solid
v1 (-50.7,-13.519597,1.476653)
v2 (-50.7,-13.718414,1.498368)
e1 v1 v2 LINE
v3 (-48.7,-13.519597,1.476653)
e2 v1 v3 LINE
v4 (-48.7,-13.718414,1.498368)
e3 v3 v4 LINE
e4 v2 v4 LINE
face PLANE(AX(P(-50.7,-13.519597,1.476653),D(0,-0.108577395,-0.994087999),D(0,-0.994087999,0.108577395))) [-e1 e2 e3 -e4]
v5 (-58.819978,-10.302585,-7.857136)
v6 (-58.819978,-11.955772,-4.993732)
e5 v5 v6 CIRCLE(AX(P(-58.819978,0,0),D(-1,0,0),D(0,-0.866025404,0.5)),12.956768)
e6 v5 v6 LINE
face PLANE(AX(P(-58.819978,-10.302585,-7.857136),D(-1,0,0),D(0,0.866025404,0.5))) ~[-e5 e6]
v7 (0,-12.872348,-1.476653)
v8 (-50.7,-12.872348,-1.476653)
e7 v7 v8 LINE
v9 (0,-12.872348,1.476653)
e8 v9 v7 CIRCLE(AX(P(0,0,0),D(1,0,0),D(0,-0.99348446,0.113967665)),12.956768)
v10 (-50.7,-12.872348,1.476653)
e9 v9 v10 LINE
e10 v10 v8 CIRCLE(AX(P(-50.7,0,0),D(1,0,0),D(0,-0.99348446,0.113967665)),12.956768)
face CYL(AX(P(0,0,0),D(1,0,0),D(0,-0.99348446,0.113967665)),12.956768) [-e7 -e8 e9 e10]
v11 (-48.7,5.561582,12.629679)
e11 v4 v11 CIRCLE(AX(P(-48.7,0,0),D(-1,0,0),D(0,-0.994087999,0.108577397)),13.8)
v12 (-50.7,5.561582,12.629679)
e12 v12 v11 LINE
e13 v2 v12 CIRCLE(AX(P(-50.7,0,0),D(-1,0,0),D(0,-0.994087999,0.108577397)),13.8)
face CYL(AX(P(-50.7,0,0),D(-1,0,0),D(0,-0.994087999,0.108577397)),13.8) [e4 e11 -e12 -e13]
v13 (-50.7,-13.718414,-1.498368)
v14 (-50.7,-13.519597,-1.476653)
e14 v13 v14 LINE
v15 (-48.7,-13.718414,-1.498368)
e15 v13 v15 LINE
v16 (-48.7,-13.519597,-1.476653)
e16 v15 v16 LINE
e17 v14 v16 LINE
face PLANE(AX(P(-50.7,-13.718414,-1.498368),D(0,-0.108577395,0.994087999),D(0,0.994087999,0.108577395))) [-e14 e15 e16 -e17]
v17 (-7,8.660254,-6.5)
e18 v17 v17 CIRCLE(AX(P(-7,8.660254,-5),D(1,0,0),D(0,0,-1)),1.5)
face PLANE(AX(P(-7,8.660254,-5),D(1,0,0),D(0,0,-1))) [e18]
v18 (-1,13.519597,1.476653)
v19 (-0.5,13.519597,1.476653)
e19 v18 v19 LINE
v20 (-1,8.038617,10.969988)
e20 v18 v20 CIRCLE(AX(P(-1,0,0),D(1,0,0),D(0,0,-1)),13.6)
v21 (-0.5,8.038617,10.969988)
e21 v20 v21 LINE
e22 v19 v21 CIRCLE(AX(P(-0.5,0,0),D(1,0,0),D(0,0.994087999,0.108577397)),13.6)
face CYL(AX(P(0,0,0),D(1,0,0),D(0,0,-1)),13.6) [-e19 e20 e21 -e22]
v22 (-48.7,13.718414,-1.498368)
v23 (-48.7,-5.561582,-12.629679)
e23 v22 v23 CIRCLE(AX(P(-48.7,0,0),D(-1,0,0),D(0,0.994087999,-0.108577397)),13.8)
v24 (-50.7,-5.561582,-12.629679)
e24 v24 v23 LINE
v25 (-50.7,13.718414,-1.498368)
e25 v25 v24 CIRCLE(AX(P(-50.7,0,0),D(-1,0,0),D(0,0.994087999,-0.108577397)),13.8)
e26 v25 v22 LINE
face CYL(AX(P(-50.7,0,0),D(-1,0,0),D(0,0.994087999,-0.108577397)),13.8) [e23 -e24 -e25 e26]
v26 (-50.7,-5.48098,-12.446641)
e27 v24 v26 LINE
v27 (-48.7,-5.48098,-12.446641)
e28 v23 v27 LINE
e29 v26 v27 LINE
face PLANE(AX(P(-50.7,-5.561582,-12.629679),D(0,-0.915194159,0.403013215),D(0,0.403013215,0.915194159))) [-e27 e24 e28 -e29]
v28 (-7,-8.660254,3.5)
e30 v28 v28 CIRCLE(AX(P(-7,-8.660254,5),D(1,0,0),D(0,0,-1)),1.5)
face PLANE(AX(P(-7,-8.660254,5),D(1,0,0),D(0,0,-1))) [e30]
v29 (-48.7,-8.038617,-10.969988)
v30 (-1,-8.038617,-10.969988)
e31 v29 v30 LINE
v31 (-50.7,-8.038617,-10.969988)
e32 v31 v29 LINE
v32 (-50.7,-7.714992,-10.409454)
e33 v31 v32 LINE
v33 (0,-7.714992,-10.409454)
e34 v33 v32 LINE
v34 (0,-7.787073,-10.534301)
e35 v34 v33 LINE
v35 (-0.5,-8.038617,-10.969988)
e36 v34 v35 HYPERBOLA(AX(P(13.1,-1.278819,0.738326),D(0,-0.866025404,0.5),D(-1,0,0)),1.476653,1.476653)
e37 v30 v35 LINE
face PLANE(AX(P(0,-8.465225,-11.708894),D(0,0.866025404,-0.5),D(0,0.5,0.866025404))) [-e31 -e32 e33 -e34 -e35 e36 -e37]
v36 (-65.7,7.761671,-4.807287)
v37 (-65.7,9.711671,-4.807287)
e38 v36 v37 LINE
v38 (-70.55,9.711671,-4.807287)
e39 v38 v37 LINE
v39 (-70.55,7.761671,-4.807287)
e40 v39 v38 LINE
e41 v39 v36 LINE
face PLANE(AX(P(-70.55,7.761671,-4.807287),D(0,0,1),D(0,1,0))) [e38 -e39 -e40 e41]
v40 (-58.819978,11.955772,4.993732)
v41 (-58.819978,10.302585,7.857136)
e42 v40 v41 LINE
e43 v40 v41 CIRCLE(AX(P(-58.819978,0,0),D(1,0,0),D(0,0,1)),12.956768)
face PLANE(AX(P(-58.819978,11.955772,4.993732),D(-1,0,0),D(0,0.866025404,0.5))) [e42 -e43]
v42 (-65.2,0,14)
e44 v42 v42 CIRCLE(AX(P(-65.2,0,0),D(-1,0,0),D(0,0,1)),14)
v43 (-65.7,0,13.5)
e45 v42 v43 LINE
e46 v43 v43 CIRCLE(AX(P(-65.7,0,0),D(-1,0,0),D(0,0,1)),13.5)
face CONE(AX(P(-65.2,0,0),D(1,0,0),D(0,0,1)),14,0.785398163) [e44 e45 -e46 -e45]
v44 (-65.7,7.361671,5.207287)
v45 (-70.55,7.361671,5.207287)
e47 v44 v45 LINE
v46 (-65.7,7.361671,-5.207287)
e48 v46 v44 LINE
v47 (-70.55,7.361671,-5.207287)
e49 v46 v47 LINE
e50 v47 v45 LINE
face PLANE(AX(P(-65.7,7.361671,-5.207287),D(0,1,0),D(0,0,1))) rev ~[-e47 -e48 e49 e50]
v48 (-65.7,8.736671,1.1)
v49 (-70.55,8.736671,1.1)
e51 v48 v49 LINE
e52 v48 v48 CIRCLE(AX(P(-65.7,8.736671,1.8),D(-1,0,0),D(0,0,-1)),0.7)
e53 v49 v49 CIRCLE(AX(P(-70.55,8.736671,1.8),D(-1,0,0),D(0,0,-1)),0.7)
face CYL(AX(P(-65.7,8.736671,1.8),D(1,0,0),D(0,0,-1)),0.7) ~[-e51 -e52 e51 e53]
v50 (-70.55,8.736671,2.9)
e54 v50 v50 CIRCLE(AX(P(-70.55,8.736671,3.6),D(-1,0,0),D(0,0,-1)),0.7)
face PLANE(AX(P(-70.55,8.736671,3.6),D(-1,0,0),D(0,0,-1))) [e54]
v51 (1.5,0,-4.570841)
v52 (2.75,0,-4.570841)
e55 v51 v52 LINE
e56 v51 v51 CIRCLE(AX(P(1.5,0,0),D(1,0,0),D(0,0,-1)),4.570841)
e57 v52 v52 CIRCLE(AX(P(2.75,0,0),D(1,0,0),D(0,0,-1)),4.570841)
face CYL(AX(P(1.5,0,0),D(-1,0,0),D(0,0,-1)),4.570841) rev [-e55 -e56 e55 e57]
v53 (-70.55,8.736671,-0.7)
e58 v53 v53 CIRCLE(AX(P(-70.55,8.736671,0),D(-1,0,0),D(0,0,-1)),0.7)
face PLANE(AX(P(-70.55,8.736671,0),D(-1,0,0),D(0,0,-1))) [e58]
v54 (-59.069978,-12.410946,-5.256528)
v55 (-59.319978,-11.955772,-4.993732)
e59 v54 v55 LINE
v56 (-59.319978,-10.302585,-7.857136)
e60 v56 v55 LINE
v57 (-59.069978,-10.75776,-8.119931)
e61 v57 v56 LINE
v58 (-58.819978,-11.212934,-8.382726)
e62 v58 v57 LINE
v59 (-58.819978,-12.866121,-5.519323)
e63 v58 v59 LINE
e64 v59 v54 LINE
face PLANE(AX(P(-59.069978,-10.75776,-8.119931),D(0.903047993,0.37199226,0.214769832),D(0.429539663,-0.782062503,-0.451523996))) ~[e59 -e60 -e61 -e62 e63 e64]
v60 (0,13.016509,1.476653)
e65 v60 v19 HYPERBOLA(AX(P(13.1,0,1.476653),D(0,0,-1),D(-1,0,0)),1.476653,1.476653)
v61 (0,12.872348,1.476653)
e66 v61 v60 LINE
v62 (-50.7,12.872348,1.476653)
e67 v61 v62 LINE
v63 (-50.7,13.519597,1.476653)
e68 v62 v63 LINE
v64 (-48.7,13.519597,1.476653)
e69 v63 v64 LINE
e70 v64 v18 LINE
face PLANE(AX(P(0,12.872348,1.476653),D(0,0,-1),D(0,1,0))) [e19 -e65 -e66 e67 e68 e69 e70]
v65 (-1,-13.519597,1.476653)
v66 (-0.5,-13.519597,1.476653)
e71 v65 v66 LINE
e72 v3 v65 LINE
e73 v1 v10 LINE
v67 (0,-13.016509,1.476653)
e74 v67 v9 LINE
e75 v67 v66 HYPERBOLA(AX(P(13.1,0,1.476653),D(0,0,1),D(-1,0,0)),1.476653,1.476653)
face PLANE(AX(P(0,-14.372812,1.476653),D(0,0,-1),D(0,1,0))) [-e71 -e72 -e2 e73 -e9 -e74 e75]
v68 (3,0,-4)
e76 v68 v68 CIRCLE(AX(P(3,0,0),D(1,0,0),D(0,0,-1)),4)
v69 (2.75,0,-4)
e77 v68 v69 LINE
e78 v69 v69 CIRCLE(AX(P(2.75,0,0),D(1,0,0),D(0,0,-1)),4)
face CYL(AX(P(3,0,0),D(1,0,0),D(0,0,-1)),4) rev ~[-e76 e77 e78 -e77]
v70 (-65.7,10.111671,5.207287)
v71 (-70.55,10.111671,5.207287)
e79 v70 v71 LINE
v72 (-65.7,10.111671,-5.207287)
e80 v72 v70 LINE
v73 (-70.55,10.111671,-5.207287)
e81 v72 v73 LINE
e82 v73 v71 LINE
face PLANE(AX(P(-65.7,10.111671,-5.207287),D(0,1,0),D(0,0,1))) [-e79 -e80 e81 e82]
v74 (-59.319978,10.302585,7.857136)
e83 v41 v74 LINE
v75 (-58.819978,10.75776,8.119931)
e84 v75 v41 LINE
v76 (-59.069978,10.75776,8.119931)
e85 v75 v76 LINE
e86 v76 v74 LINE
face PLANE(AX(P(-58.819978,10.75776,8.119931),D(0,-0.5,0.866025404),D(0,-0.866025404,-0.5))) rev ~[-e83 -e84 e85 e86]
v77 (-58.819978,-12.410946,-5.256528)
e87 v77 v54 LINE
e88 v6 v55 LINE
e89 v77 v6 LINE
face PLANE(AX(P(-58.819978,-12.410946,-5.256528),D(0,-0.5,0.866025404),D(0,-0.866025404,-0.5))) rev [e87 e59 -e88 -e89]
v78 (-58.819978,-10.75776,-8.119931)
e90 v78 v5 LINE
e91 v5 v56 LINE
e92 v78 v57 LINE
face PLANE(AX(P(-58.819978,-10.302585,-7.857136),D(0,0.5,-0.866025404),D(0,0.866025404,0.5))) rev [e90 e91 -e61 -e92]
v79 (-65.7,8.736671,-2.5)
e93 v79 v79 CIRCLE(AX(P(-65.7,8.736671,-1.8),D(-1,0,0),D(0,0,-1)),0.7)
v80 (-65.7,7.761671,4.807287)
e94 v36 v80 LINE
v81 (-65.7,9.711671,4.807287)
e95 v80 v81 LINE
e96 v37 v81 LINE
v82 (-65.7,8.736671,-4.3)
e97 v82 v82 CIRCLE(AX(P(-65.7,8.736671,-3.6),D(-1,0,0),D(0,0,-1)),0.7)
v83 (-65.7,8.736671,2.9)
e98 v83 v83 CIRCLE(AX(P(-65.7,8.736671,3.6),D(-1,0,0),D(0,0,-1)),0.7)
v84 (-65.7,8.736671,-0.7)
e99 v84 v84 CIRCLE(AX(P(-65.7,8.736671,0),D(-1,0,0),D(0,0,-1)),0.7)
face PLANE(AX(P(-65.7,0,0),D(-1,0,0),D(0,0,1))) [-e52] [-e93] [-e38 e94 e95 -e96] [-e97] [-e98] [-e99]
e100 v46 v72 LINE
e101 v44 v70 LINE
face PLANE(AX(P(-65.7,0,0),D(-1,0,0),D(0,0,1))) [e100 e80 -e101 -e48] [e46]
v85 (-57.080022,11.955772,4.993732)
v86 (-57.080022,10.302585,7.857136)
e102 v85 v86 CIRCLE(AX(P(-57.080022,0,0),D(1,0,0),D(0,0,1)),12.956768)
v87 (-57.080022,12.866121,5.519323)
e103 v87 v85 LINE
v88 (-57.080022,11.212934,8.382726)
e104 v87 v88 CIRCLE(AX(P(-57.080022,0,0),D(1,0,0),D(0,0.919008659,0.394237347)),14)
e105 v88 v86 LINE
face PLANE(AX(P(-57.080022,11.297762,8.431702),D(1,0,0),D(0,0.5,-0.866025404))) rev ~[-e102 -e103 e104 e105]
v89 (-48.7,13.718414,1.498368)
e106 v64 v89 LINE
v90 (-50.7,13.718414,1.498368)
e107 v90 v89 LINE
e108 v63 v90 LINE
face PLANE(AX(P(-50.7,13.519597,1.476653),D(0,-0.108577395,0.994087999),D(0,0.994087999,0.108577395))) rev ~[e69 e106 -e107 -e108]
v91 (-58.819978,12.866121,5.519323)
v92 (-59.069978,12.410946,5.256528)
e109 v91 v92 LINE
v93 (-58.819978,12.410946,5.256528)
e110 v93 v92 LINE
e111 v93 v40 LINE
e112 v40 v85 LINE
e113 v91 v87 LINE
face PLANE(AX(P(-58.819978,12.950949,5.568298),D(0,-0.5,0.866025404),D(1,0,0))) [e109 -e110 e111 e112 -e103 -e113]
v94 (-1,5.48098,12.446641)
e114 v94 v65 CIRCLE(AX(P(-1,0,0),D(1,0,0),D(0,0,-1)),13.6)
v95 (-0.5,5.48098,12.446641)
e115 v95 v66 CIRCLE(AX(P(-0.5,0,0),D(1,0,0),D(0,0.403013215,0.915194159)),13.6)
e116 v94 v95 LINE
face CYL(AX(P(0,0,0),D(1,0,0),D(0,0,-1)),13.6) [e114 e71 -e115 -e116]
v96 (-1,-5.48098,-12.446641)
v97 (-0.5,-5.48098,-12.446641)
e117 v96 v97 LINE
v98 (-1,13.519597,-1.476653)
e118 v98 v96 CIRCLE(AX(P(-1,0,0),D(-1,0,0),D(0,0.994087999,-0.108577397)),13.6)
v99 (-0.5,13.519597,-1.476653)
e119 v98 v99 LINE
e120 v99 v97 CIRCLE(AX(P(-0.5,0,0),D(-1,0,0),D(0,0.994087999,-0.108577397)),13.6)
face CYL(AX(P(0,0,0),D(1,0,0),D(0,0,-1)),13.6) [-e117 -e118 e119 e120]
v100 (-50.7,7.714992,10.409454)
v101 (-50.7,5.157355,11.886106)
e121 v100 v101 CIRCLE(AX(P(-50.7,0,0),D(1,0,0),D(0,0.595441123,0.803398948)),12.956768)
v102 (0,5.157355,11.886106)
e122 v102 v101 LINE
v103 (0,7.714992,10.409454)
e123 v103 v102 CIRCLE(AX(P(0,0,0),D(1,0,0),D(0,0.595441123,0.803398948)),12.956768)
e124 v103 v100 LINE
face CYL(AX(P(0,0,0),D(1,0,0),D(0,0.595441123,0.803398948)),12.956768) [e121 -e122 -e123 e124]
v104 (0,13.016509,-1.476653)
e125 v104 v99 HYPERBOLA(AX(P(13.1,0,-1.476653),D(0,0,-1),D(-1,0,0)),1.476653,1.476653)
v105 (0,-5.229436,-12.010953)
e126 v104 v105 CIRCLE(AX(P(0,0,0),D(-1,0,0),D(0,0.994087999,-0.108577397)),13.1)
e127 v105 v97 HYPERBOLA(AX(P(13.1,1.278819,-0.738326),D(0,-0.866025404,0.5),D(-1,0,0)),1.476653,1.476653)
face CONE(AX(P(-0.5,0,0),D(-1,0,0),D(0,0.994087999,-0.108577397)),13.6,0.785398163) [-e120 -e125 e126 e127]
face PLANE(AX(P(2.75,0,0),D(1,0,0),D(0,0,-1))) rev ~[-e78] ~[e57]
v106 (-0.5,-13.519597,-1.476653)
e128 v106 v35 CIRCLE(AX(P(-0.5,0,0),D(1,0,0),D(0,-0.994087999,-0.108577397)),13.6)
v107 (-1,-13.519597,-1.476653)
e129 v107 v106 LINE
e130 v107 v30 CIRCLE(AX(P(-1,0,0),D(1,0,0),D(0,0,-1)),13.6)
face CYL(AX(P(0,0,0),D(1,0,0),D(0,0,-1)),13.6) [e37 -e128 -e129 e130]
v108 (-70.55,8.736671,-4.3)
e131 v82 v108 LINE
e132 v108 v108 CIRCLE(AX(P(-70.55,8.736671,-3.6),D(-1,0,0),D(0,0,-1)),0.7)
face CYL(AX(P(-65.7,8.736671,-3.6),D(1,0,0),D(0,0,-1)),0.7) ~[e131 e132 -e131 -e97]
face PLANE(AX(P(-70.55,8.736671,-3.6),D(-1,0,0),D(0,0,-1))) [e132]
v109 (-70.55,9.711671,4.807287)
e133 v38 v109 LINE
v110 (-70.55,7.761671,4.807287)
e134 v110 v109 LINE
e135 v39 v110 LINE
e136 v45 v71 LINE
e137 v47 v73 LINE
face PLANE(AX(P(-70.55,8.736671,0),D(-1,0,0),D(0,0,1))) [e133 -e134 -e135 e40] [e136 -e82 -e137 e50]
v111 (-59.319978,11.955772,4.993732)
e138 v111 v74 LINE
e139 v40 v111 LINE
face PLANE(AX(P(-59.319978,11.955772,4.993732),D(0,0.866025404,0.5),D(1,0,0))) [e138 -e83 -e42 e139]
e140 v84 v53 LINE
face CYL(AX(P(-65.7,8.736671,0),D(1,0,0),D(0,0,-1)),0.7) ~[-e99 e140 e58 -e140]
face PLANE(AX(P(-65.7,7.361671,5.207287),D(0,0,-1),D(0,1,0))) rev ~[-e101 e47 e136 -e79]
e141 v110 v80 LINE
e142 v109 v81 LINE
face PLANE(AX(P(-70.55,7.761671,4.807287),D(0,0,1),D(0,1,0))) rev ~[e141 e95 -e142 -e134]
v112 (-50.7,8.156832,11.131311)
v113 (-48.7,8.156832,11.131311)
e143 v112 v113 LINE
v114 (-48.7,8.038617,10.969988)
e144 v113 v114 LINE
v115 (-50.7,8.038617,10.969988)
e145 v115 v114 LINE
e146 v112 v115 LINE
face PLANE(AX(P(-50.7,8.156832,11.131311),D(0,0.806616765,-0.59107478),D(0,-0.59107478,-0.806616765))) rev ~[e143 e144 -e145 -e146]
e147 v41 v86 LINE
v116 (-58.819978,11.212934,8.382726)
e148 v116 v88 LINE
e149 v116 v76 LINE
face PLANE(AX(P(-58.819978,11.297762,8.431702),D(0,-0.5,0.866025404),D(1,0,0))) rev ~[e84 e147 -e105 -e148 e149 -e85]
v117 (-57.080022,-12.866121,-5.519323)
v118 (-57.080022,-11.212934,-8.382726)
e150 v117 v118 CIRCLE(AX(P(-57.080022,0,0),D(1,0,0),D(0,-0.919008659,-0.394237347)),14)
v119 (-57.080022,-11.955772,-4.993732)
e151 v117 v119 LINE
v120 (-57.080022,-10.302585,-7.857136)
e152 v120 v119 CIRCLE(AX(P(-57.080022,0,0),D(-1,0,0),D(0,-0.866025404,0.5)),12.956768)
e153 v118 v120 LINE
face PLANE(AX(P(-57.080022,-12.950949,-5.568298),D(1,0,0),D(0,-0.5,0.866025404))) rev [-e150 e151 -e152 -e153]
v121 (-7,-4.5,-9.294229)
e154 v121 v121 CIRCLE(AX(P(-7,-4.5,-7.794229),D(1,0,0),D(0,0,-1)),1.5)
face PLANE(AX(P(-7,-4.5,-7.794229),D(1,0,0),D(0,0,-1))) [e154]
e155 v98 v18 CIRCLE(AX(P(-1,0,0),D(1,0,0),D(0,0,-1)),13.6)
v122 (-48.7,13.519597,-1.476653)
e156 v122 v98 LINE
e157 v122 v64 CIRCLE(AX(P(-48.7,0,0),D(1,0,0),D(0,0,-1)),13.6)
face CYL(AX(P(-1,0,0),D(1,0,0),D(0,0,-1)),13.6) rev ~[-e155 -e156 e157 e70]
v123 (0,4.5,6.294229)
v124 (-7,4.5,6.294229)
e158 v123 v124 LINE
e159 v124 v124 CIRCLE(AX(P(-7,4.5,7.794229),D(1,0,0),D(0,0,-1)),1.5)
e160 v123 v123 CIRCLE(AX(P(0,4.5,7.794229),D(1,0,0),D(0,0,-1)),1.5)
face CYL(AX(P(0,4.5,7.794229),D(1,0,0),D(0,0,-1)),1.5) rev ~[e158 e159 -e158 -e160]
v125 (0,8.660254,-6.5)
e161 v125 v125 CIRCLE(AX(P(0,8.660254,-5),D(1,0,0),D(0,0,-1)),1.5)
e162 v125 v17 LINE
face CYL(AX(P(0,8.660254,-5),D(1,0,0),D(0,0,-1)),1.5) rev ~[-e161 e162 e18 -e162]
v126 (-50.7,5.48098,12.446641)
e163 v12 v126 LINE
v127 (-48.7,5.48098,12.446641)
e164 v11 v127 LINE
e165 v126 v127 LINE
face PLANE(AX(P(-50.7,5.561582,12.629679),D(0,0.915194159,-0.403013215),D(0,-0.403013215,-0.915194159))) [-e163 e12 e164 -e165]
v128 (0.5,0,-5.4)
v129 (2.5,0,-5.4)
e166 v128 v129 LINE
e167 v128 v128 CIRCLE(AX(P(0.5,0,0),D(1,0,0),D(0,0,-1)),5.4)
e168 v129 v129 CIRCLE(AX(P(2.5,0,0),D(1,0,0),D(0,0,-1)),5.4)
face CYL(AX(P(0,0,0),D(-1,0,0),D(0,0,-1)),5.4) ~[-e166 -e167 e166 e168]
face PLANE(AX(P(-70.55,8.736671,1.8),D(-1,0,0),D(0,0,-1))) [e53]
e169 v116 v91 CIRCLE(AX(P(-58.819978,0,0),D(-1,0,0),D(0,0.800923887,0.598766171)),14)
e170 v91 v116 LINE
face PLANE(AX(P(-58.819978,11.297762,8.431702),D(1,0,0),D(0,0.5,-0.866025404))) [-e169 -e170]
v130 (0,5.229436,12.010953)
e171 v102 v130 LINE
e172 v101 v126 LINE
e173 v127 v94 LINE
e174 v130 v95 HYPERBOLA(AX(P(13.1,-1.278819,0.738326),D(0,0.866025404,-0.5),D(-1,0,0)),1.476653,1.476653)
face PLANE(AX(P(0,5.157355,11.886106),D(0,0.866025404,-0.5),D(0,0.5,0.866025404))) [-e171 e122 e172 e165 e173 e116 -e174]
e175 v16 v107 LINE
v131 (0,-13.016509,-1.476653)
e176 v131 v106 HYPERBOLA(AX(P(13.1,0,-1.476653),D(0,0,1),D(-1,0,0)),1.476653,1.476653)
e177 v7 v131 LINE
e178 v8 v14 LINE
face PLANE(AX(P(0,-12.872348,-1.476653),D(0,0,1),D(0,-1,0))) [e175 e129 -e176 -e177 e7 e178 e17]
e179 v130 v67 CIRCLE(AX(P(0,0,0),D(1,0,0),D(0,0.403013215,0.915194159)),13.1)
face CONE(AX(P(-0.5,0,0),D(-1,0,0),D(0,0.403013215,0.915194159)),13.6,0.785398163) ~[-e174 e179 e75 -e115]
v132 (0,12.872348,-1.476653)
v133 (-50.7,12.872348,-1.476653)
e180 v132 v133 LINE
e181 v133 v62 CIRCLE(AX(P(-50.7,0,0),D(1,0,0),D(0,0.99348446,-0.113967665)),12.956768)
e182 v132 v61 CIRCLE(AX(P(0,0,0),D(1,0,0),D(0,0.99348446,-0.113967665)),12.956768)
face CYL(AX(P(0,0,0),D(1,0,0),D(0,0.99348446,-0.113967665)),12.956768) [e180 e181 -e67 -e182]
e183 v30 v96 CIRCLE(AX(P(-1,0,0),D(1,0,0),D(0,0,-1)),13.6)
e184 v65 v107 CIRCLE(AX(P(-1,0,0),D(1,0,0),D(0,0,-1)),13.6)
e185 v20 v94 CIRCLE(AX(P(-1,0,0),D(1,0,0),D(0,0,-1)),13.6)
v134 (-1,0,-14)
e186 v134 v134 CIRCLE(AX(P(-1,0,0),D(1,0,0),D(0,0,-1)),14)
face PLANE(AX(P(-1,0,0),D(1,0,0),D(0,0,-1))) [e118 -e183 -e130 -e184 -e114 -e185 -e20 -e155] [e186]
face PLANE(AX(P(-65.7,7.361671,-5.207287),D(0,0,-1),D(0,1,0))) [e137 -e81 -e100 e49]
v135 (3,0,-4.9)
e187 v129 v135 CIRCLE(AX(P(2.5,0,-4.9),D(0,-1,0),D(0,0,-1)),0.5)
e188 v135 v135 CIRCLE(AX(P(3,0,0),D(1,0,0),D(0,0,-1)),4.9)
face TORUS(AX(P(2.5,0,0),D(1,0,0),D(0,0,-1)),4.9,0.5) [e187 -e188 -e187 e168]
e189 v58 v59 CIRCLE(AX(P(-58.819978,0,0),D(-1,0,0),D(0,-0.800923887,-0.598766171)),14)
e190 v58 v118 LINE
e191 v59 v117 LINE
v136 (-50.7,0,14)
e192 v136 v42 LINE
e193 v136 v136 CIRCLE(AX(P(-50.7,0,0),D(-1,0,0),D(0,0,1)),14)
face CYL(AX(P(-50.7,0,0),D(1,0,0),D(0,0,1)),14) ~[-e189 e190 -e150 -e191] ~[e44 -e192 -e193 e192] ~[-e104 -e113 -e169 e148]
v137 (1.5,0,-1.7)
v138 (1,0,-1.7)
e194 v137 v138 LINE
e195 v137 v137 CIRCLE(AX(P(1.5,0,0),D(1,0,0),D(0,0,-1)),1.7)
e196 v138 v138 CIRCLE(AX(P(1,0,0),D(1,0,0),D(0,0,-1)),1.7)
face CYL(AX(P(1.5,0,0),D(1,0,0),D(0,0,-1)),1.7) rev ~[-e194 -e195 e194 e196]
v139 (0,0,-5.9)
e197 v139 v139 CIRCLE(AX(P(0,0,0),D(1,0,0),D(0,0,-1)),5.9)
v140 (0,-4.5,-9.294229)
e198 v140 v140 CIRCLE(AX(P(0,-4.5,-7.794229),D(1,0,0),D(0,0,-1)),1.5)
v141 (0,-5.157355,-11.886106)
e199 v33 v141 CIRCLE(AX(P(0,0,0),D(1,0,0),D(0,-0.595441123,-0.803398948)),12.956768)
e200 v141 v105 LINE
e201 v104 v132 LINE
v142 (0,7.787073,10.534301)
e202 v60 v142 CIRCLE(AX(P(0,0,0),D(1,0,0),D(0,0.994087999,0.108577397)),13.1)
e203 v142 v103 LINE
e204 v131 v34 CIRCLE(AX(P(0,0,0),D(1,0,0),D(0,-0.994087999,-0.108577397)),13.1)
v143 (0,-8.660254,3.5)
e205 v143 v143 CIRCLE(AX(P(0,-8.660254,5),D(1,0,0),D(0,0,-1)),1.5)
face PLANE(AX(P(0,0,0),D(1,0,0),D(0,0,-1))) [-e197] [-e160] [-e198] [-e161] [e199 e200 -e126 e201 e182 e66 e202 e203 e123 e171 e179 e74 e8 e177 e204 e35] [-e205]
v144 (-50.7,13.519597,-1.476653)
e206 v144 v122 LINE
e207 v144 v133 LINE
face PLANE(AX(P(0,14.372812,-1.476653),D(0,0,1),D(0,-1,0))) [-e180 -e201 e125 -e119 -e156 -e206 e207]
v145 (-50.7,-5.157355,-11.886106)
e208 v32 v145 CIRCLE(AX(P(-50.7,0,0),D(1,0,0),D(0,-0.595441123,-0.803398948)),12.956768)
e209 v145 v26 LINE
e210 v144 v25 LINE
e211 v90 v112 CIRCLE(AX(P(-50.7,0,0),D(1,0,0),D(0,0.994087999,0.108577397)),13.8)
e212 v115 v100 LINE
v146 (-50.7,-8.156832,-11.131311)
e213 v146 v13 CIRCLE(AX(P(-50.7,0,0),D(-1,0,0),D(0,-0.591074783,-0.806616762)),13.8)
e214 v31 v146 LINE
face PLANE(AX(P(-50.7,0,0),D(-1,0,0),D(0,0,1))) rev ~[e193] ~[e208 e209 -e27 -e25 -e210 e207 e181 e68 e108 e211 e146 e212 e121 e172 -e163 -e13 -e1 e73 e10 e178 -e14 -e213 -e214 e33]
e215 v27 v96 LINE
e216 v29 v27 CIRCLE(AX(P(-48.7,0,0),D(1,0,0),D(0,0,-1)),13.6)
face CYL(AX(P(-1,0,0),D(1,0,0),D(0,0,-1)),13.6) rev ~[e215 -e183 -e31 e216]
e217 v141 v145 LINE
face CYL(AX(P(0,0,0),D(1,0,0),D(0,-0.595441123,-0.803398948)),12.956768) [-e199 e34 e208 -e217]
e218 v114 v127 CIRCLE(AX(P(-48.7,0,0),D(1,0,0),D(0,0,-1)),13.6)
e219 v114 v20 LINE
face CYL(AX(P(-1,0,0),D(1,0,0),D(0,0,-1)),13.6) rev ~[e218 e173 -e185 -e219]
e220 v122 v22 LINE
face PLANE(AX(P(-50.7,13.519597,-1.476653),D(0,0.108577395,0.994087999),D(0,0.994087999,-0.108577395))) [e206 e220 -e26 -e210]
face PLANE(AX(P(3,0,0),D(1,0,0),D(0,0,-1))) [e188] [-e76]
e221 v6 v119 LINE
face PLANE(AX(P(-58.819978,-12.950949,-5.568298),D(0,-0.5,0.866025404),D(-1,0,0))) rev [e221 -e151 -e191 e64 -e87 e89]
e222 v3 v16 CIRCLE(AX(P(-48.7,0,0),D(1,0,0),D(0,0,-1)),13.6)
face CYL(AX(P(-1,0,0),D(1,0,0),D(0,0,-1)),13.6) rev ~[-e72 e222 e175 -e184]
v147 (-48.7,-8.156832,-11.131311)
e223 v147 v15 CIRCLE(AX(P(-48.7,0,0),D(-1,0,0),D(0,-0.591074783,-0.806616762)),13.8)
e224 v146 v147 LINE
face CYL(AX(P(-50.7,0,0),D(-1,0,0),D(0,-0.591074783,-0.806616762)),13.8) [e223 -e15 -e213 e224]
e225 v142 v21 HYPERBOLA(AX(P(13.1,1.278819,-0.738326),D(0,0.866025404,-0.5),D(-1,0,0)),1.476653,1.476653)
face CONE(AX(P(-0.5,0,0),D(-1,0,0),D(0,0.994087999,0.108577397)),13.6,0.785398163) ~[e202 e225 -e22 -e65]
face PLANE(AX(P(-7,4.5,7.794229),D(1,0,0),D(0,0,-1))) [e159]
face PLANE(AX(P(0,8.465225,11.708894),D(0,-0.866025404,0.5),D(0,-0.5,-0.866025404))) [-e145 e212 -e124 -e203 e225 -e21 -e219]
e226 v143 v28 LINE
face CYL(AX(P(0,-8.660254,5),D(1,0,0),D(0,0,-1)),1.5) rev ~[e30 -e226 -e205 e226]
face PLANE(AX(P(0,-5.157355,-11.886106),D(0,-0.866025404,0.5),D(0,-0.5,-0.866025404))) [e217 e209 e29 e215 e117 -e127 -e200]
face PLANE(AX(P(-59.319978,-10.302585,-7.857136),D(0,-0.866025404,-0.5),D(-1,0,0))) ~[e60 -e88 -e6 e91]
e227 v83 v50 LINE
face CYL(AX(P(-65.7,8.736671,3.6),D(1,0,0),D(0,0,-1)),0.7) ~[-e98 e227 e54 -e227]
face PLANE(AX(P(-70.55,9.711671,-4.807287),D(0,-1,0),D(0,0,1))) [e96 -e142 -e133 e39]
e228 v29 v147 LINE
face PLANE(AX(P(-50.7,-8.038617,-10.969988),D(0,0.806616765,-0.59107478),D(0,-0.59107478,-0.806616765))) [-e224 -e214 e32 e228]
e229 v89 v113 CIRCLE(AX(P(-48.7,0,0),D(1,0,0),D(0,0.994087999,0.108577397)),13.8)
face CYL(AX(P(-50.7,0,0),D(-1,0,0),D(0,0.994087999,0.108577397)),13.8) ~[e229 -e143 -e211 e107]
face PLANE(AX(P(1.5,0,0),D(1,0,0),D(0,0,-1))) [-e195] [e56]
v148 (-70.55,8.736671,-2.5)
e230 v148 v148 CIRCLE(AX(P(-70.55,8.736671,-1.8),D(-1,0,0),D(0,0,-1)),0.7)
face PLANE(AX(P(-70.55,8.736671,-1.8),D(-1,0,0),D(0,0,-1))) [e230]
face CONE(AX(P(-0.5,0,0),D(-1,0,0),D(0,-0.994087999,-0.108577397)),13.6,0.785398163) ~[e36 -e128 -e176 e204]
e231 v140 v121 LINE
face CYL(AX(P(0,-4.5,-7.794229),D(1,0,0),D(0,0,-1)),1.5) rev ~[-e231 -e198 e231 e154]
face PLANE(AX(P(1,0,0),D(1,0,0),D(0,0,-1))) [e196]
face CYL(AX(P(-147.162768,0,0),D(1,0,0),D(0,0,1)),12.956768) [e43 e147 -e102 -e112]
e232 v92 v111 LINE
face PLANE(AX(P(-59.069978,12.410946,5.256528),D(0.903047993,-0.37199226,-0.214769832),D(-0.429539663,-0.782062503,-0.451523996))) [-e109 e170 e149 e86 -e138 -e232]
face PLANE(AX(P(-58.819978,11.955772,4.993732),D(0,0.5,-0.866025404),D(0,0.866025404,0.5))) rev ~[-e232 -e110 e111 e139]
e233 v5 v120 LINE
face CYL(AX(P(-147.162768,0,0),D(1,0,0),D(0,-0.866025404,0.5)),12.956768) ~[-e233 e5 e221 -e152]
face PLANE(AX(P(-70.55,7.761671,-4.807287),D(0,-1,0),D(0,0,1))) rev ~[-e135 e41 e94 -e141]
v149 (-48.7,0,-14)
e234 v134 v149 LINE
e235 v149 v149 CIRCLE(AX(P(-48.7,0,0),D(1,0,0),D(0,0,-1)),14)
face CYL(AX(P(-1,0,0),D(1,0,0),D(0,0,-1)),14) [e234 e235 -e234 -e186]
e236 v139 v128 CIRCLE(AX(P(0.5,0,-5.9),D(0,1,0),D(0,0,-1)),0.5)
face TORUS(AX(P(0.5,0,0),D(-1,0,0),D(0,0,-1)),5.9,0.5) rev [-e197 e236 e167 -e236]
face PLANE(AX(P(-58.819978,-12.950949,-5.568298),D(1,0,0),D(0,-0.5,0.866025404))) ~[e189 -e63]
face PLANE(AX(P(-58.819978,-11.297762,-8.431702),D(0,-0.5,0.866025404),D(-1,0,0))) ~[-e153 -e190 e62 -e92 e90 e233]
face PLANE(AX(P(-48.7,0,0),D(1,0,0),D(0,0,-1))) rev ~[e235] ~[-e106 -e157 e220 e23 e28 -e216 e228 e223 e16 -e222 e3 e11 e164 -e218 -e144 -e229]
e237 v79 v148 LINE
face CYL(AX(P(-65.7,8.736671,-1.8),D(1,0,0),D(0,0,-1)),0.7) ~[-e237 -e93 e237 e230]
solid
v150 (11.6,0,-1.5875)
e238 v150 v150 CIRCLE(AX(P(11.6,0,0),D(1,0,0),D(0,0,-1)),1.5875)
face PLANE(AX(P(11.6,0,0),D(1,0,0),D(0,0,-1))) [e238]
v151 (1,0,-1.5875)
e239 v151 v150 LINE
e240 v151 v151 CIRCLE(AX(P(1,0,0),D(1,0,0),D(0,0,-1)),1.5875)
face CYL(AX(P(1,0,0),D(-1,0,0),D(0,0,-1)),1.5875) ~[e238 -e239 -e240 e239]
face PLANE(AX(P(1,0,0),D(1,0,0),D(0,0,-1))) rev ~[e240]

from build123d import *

# Parameters (mm, degrees)
SKETCH1_R               = 13.6
BOSS_EXTRUDE1_DEPTH     = 50.7
CUT_EXTRUDE1_DEPTH      = 55.225547485
SKETCH3_R               = 14
SKETCH3_R_2             = 13.6
BOSS_EXTRUDE2_DEPTH     = 47.7
SKETCH4_R               = 14
BOSS_EXTRUDE3_DEPTH     = 15
BOSS_EXTRUDE4_DEPTH     = 2
SKETCH6_R               = 1.5
CUT_EXTRUDE2_DEPTH      = 7
SKETCH7_R               = 5.4
BOSS_EXTRUDE5_DEPTH     = 3
SKETCH8_R               = 4
CUT_EXTRUDE3_DEPTH      = 1.5
SKETCH9_R               = 1.7
CUT_EXTRUDE4_DEPTH      = 0.5
SKETCH11_R              = 1.5875
BOSS_EXTRUDE6_DEPTH     = 10.6
SKETCH12_R              = 4.570841128
SKETCH12_R_2            = 4
CUT_EXTRUDE5_DEPTH      = 1.25
FILLET1_R               = 0.5
CHAMFER1_SIZE           = 0.5
CUT_EXTRUDE6_REACH      = 75.756
CUT_EXTRUDE6_END_RADIUS = 12.956768024
SKETCH13_W              = 1.739955734
SKETCH13_H              = 3.306373614
CUT_EXTRUDE7_DEPTH      = 0.5
CUT_EXTRUDE8_DEPTH      = 3.306373613
BOSS_EXTRUDE7_DEPTH     = 3.306373613
SKETCH17_W              = 10.414574722
SKETCH17_H              = 2.75
BOSS_EXTRUDE8_DEPTH     = 4.85
SKETCH18_W              = 9.614574722
SKETCH18_H              = 1.95
CUT_EXTRUDE10_DEPTH     = 4.85
SKETCH20_R              = 0.7
BOSS_EXTRUDE9_DEPTH     = 4.85


with BuildPart() as part:
    # Sketch1 → Boss-Extrude1 (new body)
    with BuildSketch(Plane(origin=(0, 0, 0), x_dir=(0, 0, -1), z_dir=(1, 0, 0))):
        Circle(SKETCH1_R)
    extrude(amount=-BOSS_EXTRUDE1_DEPTH)

    # Sketch2 → Cut-Extrude1 (cut, through all)
    with BuildSketch(Plane(origin=(0, 0, 0), x_dir=(0, 0, -1), z_dir=(1, 0, 0))):
        with BuildLine():
            Line((-1.476652596, 12.872347678), (-1.476652596, 14.372812182))
            Line((-1.476652596, 14.372812182), (1.476652596, 14.372812182))
            Line((1.476652596, 14.372812182), (1.476652596, 12.872347678))
            ThreePointArc((1.476652596, 12.872347678), (0, 12.956768024), (-1.476652596, 12.872347678))
        make_face()
        with BuildLine():
            Line((1.476652596, -12.872347678), (1.476652596, -14.372812182))
            Line((1.476652596, -14.372812182), (-1.476652596, -14.372812182))
            Line((-1.476652596, -14.372812182), (-1.476652596, -12.872347678))
            ThreePointArc((-1.476652596, -12.872347678), (0, -12.956768024), (1.476652596, -12.872347678))
        make_face()
        with BuildLine():
            Line((11.886106393, -5.157355179), (13.185546772, -5.907587431))
            Line((13.185546772, -5.907587431), (11.708894176, -8.465224751))
            Line((11.708894176, -8.465224751), (10.409453797, -7.714992499))
            ThreePointArc((10.409453797, -7.714992499), (11.220890259, -6.478384012), (11.886106393, -5.157355179))
        make_face()
        with BuildLine():
            Line((-11.886106393, 5.157355179), (-13.185546772, 5.907587431))
            Line((-13.185546772, 5.907587431), (-11.708894176, 8.465224751))
            Line((-11.708894176, 8.465224751), (-10.409453797, 7.714992499))
            ThreePointArc((-10.409453797, 7.714992499), (-11.220890259, 6.478384012), (-11.886106393, 5.157355179))
        make_face()
    extrude(amount=-CUT_EXTRUDE1_DEPTH, mode=Mode.SUBTRACT)



with BuildPart() as body_2:
    # Sketch3 → Boss-Extrude2 (new body)
    with BuildSketch(Plane(origin=(-1, 0, 0), x_dir=(0, 0, -1), z_dir=(1, 0, 0))):
        Circle(SKETCH3_R)
        Circle(SKETCH3_R_2, mode=Mode.SUBTRACT)
    extrude(amount=-BOSS_EXTRUDE2_DEPTH)


with BuildPart() as body_3:
    # Sketch4 → Boss-Extrude3 (new body)
    with BuildSketch(Plane.ZY.offset(50.7)):
        Circle(SKETCH4_R)
    extrude(amount=BOSS_EXTRUDE3_DEPTH)


with BuildPart() as part_1:
    add(part.part)

    add(body_2.part)  # Boss-Extrude4 merges body 2

    add(body_3.part)  # Boss-Extrude4 merges body 3
    # Sketch5 → Boss-Extrude4 (add)
    with BuildSketch(Plane(origin=(-50.7, 0, 0), x_dir=(0, 0, -1), z_dir=(1, 0, 0))):
        with BuildLine():
            Line((1.476652596, 13.519596781), (1.498368075, 13.71841438))
            ThreePointArc((1.498368075, 13.71841438), (11.951150572, 6.9), (12.629679391, -5.561582373))
            Line((12.629679391, -5.561582373), (12.446640559, -5.48097973))
            ThreePointArc((12.446640559, -5.48097973), (11.777945491, 6.8), (1.476652596, 13.519596781))
        make_face()
        with BuildLine():
            Line((-1.476652596, 13.519596781), (-1.498368075, 13.71841438))
            ThreePointArc((-1.498368075, 13.71841438), (-6.9, 11.951150572), (-11.131311316, 8.156832007))
            Line((-11.131311316, 8.156832007), (-10.969987963, 8.038617051))
            ThreePointArc((-10.969987963, 8.038617051), (-6.8, 11.777945491), (-1.476652596, 13.519596781))
        make_face()
        with BuildLine():
            Line((10.969987963, -8.038617051), (11.131311316, -8.156832007))
            ThreePointArc((11.131311316, -8.156832007), (6.9, -11.951150572), (1.498368075, -13.71841438))
            Line((1.498368075, -13.71841438), (1.476652596, -13.519596781))
            ThreePointArc((1.476652596, -13.519596781), (6.8, -11.777945491), (10.969987963, -8.038617051))
        make_face()
        with BuildLine():
            Line((-1.476652596, -13.519596781), (-1.498368075, -13.71841438))
            ThreePointArc((-1.498368075, -13.71841438), (-11.951150572, -6.9), (-12.629679391, 5.561582373))
            Line((-12.629679391, 5.561582373), (-12.446640559, 5.48097973))
            ThreePointArc((-12.446640559, 5.48097973), (-11.777945491, -6.8), (-1.476652596, -13.519596781))
        make_face()
    extrude(amount=BOSS_EXTRUDE4_DEPTH)

    # Sketch6 → Cut-Extrude2 (cut)
    with BuildSketch(Plane(origin=(0, 0, 0), x_dir=(0, 0, -1), z_dir=(1, 0, 0))):
        with Locations((-5, -8.660254038)):
            Circle(SKETCH6_R)
        with Locations((5, 8.660254038)):
            Circle(SKETCH6_R)
        with Locations((-7.794228634, 4.5)):
            Circle(SKETCH6_R)
        with Locations((7.794228634, -4.5)):
            Circle(SKETCH6_R)
    extrude(amount=-CUT_EXTRUDE2_DEPTH, mode=Mode.SUBTRACT)

    # Sketch7 → Boss-Extrude5 (add)
    with BuildSketch(Plane(origin=(0, 0, 0), x_dir=(0, 0, -1), z_dir=(1, 0, 0))):
        Circle(SKETCH7_R)
    extrude(amount=BOSS_EXTRUDE5_DEPTH)

    # Sketch8 → Cut-Extrude3 (cut)
    with BuildSketch(Plane(origin=(3, 0, 0), x_dir=(0, 0, -1), z_dir=(1, 0, 0))):
        Circle(SKETCH8_R)
    extrude(amount=-CUT_EXTRUDE3_DEPTH, mode=Mode.SUBTRACT)

    # Sketch9 → Cut-Extrude4 (cut)
    with BuildSketch(Plane(origin=(1.5, 0, 0), x_dir=(0, 0, -1), z_dir=(1, 0, 0))):
        Circle(SKETCH9_R)
    extrude(amount=-CUT_EXTRUDE4_DEPTH, mode=Mode.SUBTRACT)

    # Sketch12 → Cut-Extrude5 (cut)
    with BuildSketch(Plane(origin=(1.5, 0, 0), x_dir=(0, 0, -1), z_dir=(1, 0, 0))):
        Circle(SKETCH12_R)
        Circle(SKETCH12_R_2, mode=Mode.SUBTRACT)
    extrude(amount=CUT_EXTRUDE5_DEPTH, mode=Mode.SUBTRACT)

    # Fillet1
    fillet1_edges = [part_1.edges().sort_by_distance(p)[0] for p in [
        (0, 0, 5.4),
        (3, 0, 5.4),
    ]]
    fillet(fillet1_edges, radius=FILLET1_R)

    # Chamfer1
    chamfer1_edges = [part_1.edges().sort_by_distance(p)[0] for p in [
        (-65.7, 0, -14),
        (0, 11.777945491, 6.8),
        (0, -6.8, 11.777945491),
        (0, -11.777945491, -6.8),
        (0, 6.8, -11.777945491),
    ]]
    chamfer(chamfer1_edges, length=CHAMFER1_SIZE)

    # Cut-Extrude6: up to this cylinder (the profile starts outside it)
    cut_extrude6_end = Plane(origin=(-57.95, 0, 0), z_dir=(1, 0, 0)) * Cylinder(CUT_EXTRUDE6_END_RADIUS, 178.425536047, mode=Mode.PRIVATE)
    # Sketch13 → Cut-Extrude6 (cut, up to the surface)
    with BuildSketch(Plane(origin=(0, 12.124355653, 7), x_dir=(1, 0, 0), z_dir=(0, 0.866025403784438, 0.500000000000001)), mode=Mode.PRIVATE) as cut_extrude6_sk1:
        with Locations((-57.95, 0)):
            Rectangle(SKETCH13_W, SKETCH13_H)
    cut_extrude6_tool1 = extrude(cut_extrude6_sk1.sketch, amount=-CUT_EXTRUDE6_REACH, mode=Mode.PRIVATE) - cut_extrude6_end
    cut_extrude6 = cut_extrude6_tool1.solids().sort_by_distance((-57.95, 12.124356, 7))[0]
    add(cut_extrude6, mode=Mode.SUBTRACT)

    # Sketch14 → Cut-Extrude7 (cut)
    with BuildSketch(Plane(origin=(-58.819977867, 0, 0), x_dir=(0, 0, -1), z_dir=(1, 0, 0))):
        with BuildLine():
            Line((-5.256527567, 12.41094643), (-8.11993111, 10.757759624))
            Line((-8.11993111, 10.757759624), (-7.857135823, 10.302584835))
            ThreePointArc((-7.857135823, 10.302584835), (-6.478384012, 11.220890259), (-4.99373228, 11.955771641))
            Line((-4.99373228, 11.955771641), (-5.256527567, 12.41094643))
        make_face()
    cut_extrude7 = extrude(amount=-CUT_EXTRUDE7_DEPTH, mode=Mode.SUBTRACT)

    # Sketch15 → Cut-Extrude8 (cut)
    with BuildSketch(Plane(origin=(0, 0.826593403, -1.431701772), x_dir=(1, 0, 0), z_dir=(0, -0.5000000000000012, 0.866025403784438))):
        Polygon((-58.819977867, 13.902049251), (-59.319977867, 12.850868103), (-58.819977867, 12.850868103), align=None)
    cut_extrude8 = extrude(amount=CUT_EXTRUDE8_DEPTH, mode=Mode.SUBTRACT)

    # Sketch16 → Boss-Extrude7 (add)
    with BuildSketch(Plane(origin=(0, 0.826593403, -1.431701772), x_dir=(1, 0, 0), z_dir=(0, -0.5000000000000012, 0.866025403784438))):
        Polygon((-59.069977867, 13.376458677), (-59.319977867, 12.850868103), (-59.319977867, 13.376458677), align=None)
    boss_extrude7 = extrude(amount=BOSS_EXTRUDE7_DEPTH)

    # Mirror1: Cut-Extrude6, Cut-Extrude7, Cut-Extrude8, Boss-Extrude7 across plane
    add(cut_extrude6.mirror(Plane(origin=(0, 0, 0), x_dir=(0, -0.500000000000001, 0.866025403784438), z_dir=(0, 0.866025403784438, 0.500000000000001))), mode=Mode.SUBTRACT)
    add(cut_extrude7.mirror(Plane(origin=(0, 0, 0), x_dir=(0, -0.500000000000001, 0.866025403784438), z_dir=(0, 0.866025403784438, 0.500000000000001))), mode=Mode.SUBTRACT)
    add(cut_extrude8.mirror(Plane(origin=(0, 0, 0), x_dir=(0, -0.500000000000001, 0.866025403784438), z_dir=(0, 0.866025403784438, 0.500000000000001))), mode=Mode.SUBTRACT)
    add(boss_extrude7.mirror(Plane(origin=(0, 0, 0), x_dir=(0, -0.500000000000001, 0.866025403784438), z_dir=(0, 0.866025403784438, 0.500000000000001))))


with BuildPart() as body_2_2:
    # Sketch11 → Boss-Extrude6 (new body)
    with BuildSketch(Plane(origin=(1, 0, 0), x_dir=(0, 0, -1), z_dir=(1, 0, 0))):
        Circle(SKETCH11_R)
    extrude(amount=BOSS_EXTRUDE6_DEPTH)


with BuildPart() as body_3_2:
    # Sketch17 → Boss-Extrude8 (new body)
    with BuildSketch(Plane.ZY.offset(65.7)):
        with Locations((0, 8.736671017)):
            Rectangle(SKETCH17_W, SKETCH17_H)
    extrude(amount=BOSS_EXTRUDE8_DEPTH)

    # Sketch18 → Cut-Extrude10 (cut)
    with BuildSketch(Plane.ZY.offset(70.55)):
        with Locations((0, 8.736671017)):
            Rectangle(SKETCH18_W, SKETCH18_H)
    extrude(amount=-CUT_EXTRUDE10_DEPTH, mode=Mode.SUBTRACT)


    add(part_1.part)  # Boss-Extrude9 merges part
    # Sketch20 → Boss-Extrude9 (add)
    with BuildSketch(Plane.ZY.offset(65.7)):
        with Locations(Location((0, 8.736671017, 0), (0, 0, 180))):
            Circle(SKETCH20_R)
        with Locations(Location((1.8, 8.736671017, 0), (0, 0, 180))):
            Circle(SKETCH20_R)
        with Locations(Location((3.6, 8.736671017, 0), (0, 0, 180))):
            Circle(SKETCH20_R)
        with Locations(Location((-1.8, 8.736671017, 0), (0, 0, 180))):
            Circle(SKETCH20_R)
        with Locations(Location((-3.6, 8.736671017, 0), (0, 0, 180))):
            Circle(SKETCH20_R)
    extrude(amount=BOSS_EXTRUDE9_DEPTH)


solid = Compound([body_2_2.part, body_3_2.part])
